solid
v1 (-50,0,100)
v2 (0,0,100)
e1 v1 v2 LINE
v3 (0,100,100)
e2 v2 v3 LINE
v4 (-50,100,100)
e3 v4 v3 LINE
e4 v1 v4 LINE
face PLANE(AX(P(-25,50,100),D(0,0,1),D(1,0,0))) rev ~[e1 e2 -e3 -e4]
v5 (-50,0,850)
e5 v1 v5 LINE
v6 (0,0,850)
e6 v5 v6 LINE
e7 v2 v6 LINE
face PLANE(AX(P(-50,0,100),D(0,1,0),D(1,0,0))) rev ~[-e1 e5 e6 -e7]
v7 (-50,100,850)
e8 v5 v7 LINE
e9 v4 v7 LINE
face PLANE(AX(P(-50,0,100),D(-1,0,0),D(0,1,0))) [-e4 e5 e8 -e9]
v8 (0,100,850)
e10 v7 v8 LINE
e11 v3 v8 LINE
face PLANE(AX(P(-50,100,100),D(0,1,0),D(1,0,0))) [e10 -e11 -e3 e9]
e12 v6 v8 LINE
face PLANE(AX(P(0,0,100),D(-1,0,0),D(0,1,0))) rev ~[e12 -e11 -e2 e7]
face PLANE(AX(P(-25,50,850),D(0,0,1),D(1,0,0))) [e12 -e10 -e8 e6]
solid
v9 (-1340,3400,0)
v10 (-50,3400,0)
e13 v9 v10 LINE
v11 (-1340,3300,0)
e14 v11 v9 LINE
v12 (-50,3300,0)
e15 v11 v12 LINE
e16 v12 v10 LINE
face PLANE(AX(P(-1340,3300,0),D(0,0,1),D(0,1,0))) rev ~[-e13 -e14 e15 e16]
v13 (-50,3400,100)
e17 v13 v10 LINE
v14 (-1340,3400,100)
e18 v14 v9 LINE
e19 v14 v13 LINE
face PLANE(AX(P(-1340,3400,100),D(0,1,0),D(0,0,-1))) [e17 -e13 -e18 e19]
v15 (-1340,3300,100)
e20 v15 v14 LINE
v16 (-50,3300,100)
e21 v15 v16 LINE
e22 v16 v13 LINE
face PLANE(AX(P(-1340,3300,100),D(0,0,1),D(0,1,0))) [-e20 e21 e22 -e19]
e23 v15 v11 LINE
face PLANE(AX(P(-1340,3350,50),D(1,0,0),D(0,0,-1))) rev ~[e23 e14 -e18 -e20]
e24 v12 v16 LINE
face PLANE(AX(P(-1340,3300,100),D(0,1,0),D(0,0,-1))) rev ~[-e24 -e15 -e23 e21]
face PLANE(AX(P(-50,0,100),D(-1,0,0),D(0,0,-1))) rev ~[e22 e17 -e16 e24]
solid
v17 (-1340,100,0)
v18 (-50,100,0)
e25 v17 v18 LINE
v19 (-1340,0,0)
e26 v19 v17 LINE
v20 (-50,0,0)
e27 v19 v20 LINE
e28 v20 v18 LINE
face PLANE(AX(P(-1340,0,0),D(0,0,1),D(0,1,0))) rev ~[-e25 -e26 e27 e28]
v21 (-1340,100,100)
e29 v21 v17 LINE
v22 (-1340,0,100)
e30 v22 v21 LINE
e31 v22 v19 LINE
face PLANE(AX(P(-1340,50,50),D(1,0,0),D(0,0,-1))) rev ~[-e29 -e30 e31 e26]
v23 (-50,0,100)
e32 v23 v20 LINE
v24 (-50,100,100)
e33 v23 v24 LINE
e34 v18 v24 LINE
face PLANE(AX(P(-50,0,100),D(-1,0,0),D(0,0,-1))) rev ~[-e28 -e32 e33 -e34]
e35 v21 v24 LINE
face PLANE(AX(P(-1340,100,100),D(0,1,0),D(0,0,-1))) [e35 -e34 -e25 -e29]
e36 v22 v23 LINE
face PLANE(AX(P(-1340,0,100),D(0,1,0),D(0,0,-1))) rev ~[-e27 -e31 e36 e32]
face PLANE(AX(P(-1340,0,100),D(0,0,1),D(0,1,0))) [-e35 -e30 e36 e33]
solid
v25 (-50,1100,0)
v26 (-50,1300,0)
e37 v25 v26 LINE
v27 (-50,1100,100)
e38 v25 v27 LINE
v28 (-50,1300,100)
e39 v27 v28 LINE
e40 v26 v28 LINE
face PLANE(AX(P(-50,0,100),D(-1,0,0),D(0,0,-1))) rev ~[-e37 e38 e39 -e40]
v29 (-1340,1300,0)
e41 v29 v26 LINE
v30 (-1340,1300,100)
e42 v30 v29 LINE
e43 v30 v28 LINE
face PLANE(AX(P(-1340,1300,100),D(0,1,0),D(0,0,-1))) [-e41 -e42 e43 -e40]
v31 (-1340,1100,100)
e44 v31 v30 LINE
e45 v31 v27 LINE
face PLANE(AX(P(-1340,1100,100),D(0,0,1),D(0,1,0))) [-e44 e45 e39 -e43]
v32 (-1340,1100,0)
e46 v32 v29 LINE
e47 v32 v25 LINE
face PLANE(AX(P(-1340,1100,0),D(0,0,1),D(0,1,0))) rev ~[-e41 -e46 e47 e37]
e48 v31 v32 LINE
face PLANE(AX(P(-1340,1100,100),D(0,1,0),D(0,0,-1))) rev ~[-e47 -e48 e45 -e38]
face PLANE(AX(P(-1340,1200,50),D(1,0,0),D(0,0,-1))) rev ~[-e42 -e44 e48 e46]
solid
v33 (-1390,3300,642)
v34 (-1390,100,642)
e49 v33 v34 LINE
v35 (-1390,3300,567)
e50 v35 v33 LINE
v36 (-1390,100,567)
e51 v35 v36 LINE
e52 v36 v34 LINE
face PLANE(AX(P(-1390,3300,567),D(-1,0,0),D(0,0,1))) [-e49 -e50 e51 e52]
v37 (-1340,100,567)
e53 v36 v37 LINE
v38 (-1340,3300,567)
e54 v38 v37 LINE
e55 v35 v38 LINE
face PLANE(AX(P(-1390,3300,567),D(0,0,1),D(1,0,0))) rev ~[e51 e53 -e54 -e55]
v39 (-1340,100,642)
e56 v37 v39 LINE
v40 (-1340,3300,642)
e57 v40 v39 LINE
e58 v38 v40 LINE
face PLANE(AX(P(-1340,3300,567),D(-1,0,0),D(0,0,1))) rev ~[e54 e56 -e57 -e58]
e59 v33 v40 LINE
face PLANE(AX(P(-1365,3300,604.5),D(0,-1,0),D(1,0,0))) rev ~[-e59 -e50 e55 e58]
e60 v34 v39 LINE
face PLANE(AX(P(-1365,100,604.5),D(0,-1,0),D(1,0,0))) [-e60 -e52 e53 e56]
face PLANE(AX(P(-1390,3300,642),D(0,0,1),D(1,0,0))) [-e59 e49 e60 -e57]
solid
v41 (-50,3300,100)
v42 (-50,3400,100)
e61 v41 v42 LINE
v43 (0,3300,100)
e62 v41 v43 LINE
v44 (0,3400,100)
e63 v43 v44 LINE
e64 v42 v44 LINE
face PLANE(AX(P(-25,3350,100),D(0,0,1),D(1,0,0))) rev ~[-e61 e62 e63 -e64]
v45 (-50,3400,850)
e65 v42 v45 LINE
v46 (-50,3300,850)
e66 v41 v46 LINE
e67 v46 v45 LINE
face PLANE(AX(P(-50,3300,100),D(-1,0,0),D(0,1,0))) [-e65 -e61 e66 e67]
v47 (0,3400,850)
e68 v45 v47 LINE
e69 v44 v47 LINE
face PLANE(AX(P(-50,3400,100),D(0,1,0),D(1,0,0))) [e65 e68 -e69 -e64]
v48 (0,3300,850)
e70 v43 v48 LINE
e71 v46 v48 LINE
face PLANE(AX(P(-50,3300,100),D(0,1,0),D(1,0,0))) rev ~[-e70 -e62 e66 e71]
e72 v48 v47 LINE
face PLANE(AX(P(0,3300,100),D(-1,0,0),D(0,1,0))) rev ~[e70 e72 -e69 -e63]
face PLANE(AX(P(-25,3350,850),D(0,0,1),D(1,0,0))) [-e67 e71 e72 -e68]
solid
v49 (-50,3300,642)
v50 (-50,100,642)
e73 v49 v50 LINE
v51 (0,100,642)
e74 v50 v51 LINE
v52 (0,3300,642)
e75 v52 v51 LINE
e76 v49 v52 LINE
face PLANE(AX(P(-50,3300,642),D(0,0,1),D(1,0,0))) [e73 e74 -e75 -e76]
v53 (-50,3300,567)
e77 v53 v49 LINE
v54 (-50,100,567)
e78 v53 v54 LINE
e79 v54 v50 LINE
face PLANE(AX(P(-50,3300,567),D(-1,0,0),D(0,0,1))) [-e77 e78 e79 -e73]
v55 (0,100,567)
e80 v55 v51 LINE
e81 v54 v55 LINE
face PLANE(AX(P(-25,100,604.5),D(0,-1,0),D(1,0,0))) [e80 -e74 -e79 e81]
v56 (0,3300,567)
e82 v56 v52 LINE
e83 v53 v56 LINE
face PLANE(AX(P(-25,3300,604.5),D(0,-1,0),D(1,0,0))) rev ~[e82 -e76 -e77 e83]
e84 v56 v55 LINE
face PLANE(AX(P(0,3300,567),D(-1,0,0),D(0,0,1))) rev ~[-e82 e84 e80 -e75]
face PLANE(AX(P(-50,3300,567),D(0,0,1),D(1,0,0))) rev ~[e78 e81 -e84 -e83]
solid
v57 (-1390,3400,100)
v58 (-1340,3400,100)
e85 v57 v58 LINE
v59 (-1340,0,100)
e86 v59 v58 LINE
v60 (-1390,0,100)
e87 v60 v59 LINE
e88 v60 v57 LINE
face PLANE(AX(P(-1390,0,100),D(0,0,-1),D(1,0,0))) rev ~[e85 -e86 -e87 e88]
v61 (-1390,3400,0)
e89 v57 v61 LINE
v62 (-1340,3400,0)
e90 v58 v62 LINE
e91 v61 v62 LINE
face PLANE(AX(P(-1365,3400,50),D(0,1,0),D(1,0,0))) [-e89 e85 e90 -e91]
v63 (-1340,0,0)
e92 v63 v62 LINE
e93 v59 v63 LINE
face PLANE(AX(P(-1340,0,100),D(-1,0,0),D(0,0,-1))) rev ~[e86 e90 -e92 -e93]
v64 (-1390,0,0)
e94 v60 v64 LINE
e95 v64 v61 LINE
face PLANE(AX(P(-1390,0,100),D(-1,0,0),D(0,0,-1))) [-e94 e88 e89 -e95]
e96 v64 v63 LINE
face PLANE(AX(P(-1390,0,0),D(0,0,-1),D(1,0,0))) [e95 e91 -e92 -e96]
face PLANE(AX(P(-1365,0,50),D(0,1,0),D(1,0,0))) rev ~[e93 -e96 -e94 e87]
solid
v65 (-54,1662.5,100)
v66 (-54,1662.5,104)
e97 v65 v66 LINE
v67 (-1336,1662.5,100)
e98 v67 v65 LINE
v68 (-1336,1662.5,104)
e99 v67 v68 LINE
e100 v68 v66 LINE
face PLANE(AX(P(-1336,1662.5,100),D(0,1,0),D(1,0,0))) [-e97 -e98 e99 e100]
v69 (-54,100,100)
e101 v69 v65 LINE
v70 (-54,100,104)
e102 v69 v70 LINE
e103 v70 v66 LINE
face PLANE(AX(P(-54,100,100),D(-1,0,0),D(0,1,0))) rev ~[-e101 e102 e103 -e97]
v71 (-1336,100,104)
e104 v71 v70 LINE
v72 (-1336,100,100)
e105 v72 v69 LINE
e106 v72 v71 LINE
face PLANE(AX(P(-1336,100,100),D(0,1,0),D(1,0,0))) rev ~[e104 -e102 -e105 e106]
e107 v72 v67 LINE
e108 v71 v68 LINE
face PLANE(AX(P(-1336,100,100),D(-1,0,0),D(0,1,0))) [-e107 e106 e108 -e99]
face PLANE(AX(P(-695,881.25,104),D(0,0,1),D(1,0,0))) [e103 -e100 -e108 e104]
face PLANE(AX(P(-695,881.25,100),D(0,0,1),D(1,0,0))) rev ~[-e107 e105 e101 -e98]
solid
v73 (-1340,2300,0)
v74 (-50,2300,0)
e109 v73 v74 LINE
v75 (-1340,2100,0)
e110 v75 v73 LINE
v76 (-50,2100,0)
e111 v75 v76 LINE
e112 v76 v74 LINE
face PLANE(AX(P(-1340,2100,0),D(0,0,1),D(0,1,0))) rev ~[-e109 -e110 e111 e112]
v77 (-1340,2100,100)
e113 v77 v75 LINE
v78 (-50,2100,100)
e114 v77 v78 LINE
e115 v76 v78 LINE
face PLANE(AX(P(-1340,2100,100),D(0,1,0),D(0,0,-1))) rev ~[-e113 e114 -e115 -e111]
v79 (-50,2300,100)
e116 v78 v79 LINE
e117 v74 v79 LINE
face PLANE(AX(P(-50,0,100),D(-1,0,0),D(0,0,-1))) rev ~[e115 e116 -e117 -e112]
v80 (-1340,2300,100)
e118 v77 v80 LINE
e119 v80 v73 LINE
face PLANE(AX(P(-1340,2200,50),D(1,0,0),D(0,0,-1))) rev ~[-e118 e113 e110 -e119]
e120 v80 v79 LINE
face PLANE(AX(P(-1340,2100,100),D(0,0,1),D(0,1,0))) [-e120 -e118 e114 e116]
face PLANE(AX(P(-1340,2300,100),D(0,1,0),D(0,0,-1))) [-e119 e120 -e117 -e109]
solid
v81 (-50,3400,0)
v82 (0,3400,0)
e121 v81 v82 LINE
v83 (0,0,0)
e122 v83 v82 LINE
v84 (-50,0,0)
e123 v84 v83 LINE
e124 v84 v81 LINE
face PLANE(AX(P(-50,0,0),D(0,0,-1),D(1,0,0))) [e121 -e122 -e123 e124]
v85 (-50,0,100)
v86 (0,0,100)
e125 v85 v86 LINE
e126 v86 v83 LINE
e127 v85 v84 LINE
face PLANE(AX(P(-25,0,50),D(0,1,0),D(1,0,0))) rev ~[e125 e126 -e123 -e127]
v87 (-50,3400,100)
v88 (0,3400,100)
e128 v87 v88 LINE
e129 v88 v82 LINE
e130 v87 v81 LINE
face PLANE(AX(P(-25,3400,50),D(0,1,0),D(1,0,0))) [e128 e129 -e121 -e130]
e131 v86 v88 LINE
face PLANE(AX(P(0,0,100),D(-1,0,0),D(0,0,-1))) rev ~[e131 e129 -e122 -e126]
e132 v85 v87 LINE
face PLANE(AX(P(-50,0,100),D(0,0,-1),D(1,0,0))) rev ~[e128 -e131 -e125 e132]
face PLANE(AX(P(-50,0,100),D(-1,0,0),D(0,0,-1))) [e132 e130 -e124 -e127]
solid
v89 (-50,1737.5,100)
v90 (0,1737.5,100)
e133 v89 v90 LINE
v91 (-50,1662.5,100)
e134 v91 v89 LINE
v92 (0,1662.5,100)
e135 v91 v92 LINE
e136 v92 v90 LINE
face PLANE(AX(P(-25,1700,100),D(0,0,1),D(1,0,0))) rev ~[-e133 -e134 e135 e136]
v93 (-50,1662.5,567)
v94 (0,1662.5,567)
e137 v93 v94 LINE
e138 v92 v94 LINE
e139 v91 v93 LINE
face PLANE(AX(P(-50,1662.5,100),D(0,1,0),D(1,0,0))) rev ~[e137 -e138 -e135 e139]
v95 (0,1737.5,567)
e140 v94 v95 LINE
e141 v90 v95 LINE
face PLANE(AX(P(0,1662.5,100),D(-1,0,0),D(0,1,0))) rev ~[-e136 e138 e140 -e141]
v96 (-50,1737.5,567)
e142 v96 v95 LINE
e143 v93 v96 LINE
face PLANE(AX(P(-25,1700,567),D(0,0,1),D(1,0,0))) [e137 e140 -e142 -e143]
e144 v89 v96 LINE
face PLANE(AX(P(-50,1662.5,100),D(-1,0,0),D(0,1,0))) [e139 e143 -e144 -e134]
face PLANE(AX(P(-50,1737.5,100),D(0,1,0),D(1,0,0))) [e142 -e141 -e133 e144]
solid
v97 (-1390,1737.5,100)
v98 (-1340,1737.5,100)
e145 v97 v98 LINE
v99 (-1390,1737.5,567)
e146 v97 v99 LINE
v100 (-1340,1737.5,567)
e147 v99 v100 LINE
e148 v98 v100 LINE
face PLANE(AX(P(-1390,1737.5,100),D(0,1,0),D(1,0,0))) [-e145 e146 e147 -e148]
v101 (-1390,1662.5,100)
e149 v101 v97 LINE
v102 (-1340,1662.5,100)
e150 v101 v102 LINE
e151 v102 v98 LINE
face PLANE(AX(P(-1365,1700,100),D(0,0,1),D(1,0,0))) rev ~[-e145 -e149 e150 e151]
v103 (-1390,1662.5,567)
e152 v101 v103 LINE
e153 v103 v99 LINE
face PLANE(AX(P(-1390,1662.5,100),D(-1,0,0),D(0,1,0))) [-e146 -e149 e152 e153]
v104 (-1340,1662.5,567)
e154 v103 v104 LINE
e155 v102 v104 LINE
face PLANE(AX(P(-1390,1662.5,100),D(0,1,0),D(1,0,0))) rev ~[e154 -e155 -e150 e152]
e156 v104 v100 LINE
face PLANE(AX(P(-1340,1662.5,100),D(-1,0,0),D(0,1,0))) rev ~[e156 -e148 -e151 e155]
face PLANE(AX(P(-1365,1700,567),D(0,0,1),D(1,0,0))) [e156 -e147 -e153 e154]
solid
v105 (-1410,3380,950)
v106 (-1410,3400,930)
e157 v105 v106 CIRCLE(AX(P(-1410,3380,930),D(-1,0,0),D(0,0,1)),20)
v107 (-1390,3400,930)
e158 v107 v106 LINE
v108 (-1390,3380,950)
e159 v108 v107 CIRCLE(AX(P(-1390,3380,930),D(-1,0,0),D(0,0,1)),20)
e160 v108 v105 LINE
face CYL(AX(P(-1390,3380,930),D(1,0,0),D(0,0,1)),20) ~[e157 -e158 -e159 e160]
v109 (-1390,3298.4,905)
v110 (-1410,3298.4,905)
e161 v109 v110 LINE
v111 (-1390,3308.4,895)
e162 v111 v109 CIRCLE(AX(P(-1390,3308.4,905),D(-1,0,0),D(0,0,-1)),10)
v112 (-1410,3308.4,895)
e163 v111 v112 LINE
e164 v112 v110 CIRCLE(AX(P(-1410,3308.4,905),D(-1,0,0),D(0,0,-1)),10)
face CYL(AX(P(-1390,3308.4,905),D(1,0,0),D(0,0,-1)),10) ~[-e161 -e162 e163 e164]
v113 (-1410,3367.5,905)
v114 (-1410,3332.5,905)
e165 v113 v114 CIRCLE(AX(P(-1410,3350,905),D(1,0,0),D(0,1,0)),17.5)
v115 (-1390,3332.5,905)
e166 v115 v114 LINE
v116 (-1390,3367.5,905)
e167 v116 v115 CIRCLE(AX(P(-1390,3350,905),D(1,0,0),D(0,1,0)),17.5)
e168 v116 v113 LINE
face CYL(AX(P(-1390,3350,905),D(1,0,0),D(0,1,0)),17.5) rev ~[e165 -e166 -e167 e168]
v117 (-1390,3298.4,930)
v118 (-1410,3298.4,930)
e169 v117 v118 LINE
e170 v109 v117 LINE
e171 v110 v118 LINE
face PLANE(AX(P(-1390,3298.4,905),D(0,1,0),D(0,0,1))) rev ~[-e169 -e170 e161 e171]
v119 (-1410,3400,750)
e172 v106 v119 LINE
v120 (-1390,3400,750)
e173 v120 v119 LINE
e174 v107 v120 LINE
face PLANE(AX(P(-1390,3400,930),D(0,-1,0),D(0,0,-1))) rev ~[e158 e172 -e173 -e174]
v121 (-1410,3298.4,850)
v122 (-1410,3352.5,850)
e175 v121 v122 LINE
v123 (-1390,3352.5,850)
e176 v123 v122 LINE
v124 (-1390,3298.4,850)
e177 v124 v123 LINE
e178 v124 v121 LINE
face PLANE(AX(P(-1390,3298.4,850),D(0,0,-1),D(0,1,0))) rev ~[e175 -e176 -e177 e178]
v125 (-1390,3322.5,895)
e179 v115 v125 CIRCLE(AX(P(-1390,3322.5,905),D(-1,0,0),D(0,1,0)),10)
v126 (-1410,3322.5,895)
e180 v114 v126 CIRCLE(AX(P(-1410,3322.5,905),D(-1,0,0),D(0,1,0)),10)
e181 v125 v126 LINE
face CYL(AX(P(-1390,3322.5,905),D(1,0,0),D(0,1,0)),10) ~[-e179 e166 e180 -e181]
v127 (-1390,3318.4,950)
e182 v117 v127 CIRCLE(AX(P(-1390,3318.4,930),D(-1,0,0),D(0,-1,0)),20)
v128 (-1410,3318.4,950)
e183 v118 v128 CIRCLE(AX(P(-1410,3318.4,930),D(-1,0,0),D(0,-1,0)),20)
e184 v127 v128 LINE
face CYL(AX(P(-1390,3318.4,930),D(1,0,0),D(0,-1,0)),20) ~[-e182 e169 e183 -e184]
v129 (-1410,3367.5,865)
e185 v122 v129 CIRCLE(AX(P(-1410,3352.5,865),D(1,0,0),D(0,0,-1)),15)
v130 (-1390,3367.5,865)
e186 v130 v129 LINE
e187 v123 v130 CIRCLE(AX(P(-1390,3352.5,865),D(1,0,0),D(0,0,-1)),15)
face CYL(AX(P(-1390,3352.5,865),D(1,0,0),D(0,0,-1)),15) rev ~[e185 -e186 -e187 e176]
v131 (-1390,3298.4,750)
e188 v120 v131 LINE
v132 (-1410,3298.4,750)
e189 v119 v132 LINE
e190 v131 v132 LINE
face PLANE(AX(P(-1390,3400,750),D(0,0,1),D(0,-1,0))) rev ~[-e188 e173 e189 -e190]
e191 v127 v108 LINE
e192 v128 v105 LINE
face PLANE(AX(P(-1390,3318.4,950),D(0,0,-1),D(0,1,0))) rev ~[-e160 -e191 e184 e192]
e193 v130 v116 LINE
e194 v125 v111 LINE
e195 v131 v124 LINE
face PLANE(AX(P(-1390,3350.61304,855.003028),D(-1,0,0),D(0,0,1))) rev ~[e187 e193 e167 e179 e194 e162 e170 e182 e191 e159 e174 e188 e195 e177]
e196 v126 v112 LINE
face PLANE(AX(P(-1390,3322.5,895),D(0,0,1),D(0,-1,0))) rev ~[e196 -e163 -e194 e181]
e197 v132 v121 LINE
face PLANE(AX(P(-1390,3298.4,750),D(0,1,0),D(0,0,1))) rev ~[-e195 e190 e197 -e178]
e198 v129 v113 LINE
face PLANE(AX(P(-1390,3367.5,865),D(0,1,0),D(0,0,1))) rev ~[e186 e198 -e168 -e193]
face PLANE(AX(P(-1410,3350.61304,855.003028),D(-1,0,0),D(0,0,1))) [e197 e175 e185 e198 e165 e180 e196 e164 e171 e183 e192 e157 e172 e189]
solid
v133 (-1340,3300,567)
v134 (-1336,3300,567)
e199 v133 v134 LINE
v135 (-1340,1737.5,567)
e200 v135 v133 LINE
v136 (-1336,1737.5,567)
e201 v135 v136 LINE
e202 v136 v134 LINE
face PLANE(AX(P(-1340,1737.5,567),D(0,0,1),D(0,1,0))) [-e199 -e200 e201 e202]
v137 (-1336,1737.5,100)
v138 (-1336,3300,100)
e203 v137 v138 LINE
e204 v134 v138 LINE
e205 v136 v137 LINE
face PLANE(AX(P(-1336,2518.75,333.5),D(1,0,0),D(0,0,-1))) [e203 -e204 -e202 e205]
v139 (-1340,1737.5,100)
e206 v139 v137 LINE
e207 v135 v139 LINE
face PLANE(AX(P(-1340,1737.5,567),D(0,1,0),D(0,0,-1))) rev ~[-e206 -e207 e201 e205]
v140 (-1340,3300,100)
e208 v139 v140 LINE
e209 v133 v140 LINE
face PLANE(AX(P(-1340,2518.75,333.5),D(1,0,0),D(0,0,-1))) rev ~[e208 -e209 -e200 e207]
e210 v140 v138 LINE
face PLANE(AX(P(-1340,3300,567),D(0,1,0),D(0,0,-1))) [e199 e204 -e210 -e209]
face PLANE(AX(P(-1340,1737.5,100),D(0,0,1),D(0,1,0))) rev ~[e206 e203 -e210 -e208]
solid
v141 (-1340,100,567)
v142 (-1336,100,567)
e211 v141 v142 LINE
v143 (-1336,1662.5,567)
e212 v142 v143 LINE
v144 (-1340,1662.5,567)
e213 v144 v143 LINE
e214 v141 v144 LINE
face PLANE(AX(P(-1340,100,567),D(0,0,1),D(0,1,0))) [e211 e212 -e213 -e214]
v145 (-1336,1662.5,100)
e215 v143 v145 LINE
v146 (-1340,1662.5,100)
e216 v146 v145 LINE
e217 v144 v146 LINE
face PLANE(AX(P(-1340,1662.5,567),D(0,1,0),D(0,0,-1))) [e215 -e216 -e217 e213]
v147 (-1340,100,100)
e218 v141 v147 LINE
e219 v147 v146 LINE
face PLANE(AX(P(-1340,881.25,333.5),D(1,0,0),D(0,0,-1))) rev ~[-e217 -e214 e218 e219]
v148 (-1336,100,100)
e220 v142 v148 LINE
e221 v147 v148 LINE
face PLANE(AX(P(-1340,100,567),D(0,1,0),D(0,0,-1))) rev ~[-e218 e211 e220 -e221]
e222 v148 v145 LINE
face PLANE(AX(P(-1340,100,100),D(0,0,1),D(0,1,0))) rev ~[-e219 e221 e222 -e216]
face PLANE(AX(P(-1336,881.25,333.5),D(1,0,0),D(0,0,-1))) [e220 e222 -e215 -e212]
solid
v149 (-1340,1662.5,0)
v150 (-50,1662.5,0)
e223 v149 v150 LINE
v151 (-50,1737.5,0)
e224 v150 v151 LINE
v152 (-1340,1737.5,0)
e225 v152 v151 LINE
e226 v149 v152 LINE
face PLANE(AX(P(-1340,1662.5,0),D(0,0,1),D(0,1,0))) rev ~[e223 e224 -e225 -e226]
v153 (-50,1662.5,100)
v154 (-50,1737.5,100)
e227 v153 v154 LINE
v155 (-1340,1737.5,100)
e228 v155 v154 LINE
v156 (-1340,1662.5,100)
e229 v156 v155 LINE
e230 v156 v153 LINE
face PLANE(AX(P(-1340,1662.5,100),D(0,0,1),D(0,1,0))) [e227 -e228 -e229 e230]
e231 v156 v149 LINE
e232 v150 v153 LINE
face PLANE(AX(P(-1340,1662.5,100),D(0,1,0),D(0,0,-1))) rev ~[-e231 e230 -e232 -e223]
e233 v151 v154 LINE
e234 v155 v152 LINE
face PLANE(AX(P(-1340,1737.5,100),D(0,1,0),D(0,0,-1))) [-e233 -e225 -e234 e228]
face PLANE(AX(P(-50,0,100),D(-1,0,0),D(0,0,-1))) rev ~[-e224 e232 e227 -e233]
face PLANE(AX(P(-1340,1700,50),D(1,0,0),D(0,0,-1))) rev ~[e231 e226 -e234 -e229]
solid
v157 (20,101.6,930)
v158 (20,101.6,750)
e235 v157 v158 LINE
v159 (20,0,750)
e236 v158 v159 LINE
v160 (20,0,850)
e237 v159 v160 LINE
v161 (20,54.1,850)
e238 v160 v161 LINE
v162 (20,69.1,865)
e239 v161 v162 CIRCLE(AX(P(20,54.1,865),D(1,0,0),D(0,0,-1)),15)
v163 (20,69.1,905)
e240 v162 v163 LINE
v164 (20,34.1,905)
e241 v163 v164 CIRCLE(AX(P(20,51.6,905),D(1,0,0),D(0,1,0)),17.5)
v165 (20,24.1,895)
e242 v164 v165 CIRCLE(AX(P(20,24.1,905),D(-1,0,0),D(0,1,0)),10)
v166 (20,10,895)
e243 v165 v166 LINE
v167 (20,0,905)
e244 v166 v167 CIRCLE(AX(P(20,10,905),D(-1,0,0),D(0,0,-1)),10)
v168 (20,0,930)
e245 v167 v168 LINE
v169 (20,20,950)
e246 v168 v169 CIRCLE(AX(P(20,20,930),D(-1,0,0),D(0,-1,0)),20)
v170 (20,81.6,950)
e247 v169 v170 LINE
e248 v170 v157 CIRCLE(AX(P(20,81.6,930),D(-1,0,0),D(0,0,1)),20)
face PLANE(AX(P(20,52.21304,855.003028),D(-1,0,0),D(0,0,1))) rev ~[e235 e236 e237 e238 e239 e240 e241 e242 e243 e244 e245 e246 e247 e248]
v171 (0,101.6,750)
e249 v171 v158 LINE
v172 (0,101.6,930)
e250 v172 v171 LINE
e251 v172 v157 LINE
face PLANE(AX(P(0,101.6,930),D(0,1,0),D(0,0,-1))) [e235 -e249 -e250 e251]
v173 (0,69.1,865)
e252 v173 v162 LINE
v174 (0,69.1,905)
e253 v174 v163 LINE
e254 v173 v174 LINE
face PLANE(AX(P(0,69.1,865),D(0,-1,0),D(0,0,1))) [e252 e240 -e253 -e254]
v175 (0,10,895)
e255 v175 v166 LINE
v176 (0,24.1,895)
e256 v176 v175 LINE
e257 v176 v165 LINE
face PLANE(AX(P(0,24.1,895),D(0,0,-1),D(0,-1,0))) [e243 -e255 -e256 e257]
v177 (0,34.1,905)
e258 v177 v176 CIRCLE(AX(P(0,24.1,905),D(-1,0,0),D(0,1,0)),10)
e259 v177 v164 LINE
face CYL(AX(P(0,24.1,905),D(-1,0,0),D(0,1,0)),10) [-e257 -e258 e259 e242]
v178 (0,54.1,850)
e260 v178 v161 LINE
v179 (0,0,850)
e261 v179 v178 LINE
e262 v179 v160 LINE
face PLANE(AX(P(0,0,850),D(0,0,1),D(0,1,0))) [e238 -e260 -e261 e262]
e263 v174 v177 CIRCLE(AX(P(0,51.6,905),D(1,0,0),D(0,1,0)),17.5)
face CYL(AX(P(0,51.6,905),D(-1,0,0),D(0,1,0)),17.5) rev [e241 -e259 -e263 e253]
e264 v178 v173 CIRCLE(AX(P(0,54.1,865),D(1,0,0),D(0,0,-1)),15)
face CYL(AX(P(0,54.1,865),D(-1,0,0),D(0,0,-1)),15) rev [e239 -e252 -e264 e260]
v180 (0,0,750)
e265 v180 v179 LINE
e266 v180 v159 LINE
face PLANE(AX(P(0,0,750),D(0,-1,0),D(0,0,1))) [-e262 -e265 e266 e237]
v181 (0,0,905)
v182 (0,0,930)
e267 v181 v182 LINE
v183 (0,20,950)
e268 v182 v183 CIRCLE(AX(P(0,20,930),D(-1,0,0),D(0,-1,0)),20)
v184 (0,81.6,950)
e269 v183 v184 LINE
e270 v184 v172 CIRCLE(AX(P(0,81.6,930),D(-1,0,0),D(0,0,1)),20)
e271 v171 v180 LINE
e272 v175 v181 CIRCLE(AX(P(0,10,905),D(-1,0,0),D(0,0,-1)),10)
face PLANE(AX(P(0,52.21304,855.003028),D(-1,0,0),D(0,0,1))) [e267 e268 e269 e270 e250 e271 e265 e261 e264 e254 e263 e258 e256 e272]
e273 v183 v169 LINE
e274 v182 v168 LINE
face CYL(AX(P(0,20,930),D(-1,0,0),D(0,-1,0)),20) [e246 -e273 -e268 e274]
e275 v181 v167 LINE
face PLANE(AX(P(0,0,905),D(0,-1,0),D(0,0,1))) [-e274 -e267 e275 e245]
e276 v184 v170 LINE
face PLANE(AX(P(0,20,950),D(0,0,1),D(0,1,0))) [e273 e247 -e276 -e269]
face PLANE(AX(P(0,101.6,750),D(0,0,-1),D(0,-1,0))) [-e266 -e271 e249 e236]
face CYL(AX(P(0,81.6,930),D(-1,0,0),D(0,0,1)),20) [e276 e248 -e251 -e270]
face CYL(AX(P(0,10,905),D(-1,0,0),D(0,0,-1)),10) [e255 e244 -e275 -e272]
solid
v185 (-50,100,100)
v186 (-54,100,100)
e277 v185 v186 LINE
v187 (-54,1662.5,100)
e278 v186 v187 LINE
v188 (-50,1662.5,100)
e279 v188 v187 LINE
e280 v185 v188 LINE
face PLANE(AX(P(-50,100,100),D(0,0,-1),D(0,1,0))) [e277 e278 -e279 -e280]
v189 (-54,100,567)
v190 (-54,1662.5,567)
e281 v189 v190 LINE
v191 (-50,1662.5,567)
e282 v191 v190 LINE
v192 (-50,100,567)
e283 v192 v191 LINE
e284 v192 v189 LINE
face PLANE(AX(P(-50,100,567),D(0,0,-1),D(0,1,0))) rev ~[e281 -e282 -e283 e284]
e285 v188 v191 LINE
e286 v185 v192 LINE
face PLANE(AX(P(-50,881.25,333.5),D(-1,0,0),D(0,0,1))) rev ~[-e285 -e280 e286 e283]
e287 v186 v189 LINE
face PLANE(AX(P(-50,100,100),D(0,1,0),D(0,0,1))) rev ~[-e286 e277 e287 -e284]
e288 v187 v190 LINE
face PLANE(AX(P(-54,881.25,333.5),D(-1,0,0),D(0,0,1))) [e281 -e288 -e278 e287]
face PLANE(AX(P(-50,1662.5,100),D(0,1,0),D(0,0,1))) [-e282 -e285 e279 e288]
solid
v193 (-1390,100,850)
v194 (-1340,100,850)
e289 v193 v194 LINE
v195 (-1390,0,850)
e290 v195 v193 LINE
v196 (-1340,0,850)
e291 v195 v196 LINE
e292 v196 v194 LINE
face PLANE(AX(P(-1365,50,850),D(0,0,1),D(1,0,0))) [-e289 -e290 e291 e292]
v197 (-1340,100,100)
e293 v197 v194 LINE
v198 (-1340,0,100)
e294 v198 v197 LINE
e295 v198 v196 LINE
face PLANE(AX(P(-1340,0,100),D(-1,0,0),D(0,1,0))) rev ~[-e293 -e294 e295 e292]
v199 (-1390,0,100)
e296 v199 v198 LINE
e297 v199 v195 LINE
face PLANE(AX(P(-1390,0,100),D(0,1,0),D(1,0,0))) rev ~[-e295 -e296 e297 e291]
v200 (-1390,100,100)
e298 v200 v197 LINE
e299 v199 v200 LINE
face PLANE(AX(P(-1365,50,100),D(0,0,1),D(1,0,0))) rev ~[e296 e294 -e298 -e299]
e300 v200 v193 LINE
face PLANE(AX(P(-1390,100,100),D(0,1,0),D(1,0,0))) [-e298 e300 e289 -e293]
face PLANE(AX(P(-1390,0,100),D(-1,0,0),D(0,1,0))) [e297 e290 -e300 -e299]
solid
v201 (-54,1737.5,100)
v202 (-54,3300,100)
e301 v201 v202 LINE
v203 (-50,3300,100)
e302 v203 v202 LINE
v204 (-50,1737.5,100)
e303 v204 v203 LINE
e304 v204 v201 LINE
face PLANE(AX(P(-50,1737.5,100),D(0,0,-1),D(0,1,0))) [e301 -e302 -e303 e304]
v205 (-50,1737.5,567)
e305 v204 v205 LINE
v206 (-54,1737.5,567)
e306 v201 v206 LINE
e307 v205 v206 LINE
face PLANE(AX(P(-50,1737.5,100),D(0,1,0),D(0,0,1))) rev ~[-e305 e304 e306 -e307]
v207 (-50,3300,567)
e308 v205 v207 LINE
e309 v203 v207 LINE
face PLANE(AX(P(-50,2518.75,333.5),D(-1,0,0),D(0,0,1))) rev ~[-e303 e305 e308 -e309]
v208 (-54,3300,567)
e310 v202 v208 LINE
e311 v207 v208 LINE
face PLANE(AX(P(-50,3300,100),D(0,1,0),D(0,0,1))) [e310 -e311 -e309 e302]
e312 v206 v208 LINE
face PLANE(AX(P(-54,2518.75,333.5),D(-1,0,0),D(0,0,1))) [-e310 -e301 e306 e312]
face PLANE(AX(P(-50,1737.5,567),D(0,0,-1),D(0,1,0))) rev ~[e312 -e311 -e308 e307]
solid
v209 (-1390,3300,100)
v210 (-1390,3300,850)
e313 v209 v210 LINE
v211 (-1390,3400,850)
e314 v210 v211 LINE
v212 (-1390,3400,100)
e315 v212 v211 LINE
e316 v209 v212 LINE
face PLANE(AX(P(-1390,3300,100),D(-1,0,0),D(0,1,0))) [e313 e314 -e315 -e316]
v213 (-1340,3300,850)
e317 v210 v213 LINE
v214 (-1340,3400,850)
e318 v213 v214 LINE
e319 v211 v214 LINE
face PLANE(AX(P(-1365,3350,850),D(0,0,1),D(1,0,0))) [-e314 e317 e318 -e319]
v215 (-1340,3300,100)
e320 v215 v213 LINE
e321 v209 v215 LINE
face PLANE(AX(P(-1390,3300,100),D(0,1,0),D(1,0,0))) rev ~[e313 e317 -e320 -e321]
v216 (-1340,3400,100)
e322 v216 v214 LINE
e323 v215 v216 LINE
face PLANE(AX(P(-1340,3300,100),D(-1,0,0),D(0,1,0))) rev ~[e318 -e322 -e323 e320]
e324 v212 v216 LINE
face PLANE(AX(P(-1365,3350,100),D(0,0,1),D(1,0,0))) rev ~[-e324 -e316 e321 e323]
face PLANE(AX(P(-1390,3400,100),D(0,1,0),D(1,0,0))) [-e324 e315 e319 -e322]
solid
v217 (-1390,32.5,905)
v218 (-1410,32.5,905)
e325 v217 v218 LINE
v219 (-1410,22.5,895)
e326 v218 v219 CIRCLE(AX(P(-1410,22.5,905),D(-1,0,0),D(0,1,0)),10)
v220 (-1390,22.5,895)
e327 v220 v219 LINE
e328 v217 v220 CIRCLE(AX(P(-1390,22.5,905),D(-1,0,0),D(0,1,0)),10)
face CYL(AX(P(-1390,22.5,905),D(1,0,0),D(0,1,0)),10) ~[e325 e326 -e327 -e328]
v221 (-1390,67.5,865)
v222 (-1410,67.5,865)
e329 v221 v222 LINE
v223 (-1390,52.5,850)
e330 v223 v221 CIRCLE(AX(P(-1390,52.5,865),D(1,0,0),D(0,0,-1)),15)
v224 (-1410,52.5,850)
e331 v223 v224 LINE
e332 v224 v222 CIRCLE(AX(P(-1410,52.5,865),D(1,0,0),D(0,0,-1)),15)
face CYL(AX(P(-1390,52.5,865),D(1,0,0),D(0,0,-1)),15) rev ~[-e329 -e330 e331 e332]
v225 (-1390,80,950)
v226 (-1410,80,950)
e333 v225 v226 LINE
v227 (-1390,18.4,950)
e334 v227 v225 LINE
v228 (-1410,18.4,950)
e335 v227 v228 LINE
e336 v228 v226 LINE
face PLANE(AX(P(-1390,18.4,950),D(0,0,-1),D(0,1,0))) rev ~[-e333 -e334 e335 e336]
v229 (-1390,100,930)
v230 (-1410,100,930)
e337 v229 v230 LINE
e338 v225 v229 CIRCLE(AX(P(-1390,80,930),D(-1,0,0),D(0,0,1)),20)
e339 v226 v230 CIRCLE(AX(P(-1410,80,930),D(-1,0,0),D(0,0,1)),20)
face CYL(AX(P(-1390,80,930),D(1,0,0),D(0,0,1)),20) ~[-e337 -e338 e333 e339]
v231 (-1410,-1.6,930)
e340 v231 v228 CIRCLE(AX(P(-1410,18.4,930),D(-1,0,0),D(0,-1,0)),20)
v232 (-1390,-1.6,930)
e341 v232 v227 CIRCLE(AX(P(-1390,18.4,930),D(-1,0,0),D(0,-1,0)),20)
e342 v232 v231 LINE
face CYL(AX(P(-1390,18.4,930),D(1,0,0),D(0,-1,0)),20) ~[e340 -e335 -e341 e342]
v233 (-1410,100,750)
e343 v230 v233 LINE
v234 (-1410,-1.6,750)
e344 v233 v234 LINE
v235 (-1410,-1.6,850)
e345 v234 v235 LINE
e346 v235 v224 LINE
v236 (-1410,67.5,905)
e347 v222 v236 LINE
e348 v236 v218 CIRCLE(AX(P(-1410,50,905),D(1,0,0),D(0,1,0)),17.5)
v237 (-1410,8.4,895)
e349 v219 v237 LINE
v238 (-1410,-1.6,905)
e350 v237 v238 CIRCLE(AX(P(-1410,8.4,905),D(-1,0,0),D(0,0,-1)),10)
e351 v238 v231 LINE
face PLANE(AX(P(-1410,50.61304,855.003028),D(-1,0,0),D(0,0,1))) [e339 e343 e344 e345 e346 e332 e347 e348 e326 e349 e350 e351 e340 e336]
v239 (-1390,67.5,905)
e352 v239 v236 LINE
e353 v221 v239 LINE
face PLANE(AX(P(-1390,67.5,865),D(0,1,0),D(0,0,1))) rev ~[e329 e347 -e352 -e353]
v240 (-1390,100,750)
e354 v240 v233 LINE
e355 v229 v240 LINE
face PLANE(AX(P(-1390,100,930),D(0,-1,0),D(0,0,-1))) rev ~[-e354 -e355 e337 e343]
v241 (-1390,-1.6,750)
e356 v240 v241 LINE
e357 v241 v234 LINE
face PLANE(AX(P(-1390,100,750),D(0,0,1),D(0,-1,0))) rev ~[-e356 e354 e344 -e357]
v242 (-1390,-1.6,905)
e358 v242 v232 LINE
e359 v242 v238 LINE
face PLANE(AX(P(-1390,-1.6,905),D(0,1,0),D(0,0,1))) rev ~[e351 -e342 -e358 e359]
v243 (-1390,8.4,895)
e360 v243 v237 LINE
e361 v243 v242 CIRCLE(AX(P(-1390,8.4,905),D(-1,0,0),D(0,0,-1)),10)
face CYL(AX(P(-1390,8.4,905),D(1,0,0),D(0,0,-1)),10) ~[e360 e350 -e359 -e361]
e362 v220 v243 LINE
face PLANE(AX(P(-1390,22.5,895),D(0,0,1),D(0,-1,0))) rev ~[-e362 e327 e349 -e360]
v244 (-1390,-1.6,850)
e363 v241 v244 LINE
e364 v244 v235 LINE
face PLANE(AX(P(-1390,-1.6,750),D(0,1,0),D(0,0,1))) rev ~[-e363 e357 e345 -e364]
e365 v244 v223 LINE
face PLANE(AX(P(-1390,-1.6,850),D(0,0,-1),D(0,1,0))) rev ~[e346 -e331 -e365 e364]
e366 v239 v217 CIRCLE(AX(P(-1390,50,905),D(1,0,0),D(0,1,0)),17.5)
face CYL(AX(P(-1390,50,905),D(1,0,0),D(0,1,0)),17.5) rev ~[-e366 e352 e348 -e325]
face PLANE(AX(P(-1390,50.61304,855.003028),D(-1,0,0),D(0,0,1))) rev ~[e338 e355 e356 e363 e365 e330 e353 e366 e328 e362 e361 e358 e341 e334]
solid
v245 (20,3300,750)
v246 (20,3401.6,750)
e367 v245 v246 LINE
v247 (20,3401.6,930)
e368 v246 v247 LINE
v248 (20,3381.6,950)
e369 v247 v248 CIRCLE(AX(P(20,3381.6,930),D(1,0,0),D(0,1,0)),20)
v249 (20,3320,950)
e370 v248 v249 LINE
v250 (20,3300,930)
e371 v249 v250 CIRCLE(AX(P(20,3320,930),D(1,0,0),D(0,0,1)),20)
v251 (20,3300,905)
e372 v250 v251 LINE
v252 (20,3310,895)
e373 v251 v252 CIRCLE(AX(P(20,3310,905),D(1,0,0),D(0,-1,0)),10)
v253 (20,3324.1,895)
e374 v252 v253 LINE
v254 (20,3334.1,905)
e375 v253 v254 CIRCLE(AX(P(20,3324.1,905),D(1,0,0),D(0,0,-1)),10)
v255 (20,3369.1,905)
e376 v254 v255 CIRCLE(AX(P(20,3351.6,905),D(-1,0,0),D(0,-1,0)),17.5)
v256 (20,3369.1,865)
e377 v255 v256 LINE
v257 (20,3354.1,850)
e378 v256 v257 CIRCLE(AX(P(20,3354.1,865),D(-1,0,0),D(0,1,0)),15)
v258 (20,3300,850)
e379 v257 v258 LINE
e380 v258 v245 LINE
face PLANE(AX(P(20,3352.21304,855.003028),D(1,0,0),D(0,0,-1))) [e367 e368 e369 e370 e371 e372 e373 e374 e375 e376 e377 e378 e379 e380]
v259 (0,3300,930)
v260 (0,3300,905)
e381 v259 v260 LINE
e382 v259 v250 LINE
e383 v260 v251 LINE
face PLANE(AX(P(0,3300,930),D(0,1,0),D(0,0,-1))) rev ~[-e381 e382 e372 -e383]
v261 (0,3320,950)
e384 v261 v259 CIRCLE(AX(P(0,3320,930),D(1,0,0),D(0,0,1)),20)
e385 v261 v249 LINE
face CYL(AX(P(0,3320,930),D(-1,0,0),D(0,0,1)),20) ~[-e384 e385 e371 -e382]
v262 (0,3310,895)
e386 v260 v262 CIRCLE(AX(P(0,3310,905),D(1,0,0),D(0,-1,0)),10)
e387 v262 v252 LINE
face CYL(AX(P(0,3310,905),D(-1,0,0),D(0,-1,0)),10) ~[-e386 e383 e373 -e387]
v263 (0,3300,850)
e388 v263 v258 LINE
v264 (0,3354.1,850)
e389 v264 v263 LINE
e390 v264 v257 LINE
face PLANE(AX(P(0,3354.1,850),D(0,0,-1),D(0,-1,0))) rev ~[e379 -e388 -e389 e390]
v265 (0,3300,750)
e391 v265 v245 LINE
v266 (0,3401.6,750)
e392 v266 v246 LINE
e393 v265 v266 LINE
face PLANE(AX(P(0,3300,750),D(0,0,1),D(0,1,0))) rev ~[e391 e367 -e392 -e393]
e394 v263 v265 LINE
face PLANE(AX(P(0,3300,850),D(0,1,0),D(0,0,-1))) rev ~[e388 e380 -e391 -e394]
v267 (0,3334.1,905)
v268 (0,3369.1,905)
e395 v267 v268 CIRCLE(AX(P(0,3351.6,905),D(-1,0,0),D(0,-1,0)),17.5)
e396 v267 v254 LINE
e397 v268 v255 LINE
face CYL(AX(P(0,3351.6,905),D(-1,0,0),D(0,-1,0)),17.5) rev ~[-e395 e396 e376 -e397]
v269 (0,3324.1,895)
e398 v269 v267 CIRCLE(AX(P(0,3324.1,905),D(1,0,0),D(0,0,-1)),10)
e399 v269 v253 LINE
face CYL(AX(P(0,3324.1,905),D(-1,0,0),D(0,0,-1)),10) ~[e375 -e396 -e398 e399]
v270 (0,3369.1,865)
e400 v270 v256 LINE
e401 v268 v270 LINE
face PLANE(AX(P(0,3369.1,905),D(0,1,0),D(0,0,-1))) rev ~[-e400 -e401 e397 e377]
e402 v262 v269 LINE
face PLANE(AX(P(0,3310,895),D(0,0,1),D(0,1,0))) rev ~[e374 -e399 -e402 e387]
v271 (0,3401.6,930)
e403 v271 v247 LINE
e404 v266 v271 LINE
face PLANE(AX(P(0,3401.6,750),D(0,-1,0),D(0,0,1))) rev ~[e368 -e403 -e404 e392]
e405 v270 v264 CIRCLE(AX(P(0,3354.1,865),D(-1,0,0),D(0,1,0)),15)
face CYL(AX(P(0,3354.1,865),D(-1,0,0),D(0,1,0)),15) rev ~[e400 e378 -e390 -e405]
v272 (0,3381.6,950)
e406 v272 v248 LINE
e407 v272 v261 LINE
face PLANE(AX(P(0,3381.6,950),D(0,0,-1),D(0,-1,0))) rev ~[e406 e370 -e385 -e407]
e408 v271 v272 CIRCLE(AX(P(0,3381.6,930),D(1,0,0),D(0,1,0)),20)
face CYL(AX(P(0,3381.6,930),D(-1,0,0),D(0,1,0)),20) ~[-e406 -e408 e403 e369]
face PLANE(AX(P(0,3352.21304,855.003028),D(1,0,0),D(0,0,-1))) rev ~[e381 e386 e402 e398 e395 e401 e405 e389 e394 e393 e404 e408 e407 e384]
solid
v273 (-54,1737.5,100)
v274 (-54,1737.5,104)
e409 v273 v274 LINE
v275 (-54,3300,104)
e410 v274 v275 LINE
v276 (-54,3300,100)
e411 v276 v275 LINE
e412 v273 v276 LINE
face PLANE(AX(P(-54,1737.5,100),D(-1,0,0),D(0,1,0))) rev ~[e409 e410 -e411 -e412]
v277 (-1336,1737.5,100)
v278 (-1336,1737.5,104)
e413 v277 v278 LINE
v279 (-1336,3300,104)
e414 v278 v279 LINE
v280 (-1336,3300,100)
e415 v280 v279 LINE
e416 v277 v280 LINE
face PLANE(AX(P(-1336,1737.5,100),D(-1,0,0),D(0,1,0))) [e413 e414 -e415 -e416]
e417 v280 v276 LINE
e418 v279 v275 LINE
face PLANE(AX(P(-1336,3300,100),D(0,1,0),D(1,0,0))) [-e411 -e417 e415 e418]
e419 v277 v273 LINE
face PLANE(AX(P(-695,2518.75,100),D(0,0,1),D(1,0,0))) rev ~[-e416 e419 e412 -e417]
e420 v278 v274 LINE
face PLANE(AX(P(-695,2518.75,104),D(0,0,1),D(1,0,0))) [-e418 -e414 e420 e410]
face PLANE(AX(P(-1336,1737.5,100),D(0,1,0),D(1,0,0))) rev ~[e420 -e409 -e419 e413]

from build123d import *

# Parameters (mm, degrees)
SKETCH12_W             = 50
SKETCH12_H             = 100
BOSS_EXTRUDE1_DEPTH    = 3400
BOSS_EXTRUDE1_2_DEPTH  = 3400
BOSS_EXTRUDE2_REACH    = 3657.899
SKETCH13_W             = 100
SKETCH13_H             = 100
SKETCH13_H_2           = 200
SKETCH13_H_3           = 75
SKETCH14_W             = 50
SKETCH14_H             = 100
BOSS_EXTRUDE3_DEPTH    = 750
BOSS_EXTRUDE3_2_DEPTH  = 750
BOSS_EXTRUDE3_3_DEPTH  = 750
BOSS_EXTRUDE3_4_DEPTH  = 750
SKETCH15_W             = 50
SKETCH15_H             = 75
BOSS_EXTRUDE4_DEPTH    = 467
BOSS_EXTRUDE4_2_DEPTH  = 467
SKETCH16_W             = 50
SKETCH16_H             = 75
BOSS_EXTRUDE5_DEPTH    = 3200
BOSS_EXTRUDE5_2_DEPTH  = 3200
BOSS_EXTRUDE6_DEPTH    = 20
BOSS_EXTRUDE6_2_DEPTH  = 20
BOSS_EXTRUDE7_DEPTH    = 20
BOSS_EXTRUDE7_2_DEPTH  = 20
SKETCH19_W             = 467
SKETCH19_H             = 1562.5
BOSS_EXTRUDE8_DEPTH    = 4
BOSS_EXTRUDE8_2_DEPTH  = 4
SKETCH21_W             = 467
SKETCH21_H             = 1562.5
BOSS_EXTRUDE10_DEPTH   = 4
BOSS_EXTRUDE10_2_DEPTH = 4
SKETCH22_W             = 1282
SKETCH22_H             = 1562.5
BOSS_EXTRUDE11_DEPTH   = 4
BOSS_EXTRUDE11_2_DEPTH = 4


with BuildPart() as part:
    # Sketch12 → Boss-Extrude1 (new body)
    with BuildSketch(Plane(origin=(0, 0, 0), x_dir=(1, 0, 0), z_dir=(0, 1, 0))):
        with Locations((-25, -50)):
            Rectangle(SKETCH12_W, SKETCH12_H)
    extrude(amount=BOSS_EXTRUDE1_DEPTH)


with BuildPart() as body_2:
    # Sketch12 → Boss-Extrude1 2 (new body)
    with BuildSketch(Plane(origin=(0, 0, 0), x_dir=(1, 0, 0), z_dir=(0, 1, 0))):
        with Locations((-1365, -50)):
            Rectangle(SKETCH12_W, SKETCH12_H)
    extrude(amount=BOSS_EXTRUDE1_2_DEPTH)


with BuildPart() as body_3:

    # Sketch13 → Boss-Extrude2 (new, up to next)
    with BuildSketch(Plane(origin=(-1340, 0, 0), x_dir=(0, 0, -1), z_dir=(1, 0, 0)), mode=Mode.PRIVATE) as boss_extrude2_sk1:
        with Locations((-50, 50)):
            Rectangle(SKETCH13_W, SKETCH13_H)
    boss_extrude2_tool1 = extrude(boss_extrude2_sk1.sketch, amount=BOSS_EXTRUDE2_REACH, mode=Mode.PRIVATE) - part.part
    # Sketch13 → Boss-Extrude2 (new, up to next)
    with BuildSketch(Plane(origin=(-1340, 0, 0), x_dir=(0, 0, -1), z_dir=(1, 0, 0)), mode=Mode.PRIVATE) as boss_extrude2_sk2:
        with Locations((-50, 3350)):
            Rectangle(SKETCH13_W, SKETCH13_H)
    boss_extrude2_tool2 = extrude(boss_extrude2_sk2.sketch, amount=BOSS_EXTRUDE2_REACH, mode=Mode.PRIVATE) - part.part
    # Sketch13 → Boss-Extrude2 (new, up to next)
    with BuildSketch(Plane(origin=(-1340, 0, 0), x_dir=(0, 0, -1), z_dir=(1, 0, 0)), mode=Mode.PRIVATE) as boss_extrude2_sk3:
        with Locations((-50, 1200)):
            Rectangle(SKETCH13_W, SKETCH13_H_2)
    boss_extrude2_tool3 = extrude(boss_extrude2_sk3.sketch, amount=BOSS_EXTRUDE2_REACH, mode=Mode.PRIVATE) - part.part
    # Sketch13 → Boss-Extrude2 (new, up to next)
    with BuildSketch(Plane(origin=(-1340, 0, 0), x_dir=(0, 0, -1), z_dir=(1, 0, 0)), mode=Mode.PRIVATE) as boss_extrude2_sk4:
        with Locations((-50, 2200)):
            Rectangle(SKETCH13_W, SKETCH13_H_2)
    boss_extrude2_tool4 = extrude(boss_extrude2_sk4.sketch, amount=BOSS_EXTRUDE2_REACH, mode=Mode.PRIVATE) - part.part
    # Sketch13 → Boss-Extrude2 (new, up to next)
    with BuildSketch(Plane(origin=(-1340, 0, 0), x_dir=(0, 0, -1), z_dir=(1, 0, 0)), mode=Mode.PRIVATE) as boss_extrude2_sk5:
        with Locations((-50, 1700)):
            Rectangle(SKETCH13_W, SKETCH13_H_3)
    boss_extrude2_tool5 = extrude(boss_extrude2_sk5.sketch, amount=BOSS_EXTRUDE2_REACH, mode=Mode.PRIVATE) - part.part
    add(boss_extrude2_tool1.solids().sort_by_distance((-1340, 50, 50))[0])
    add(boss_extrude2_tool2.solids().sort_by_distance((-1340, 3350, 50))[0])
    add(boss_extrude2_tool3.solids().sort_by_distance((-1340, 1200, 50))[0])
    add(boss_extrude2_tool4.solids().sort_by_distance((-1340, 2200, 50))[0])
    add(boss_extrude2_tool5.solids().sort_by_distance((-1340, 1700, 50))[0])


with BuildPart() as body_4:
    # Sketch14 → Boss-Extrude3 (new body)
    with BuildSketch(Plane.XY.offset(100)):
        with Locations((-1365, 50)):
            Rectangle(SKETCH14_W, SKETCH14_H)
    extrude(amount=BOSS_EXTRUDE3_DEPTH)


with BuildPart() as body_5:
    # Sketch14 → Boss-Extrude3 2 (new body)
    with BuildSketch(Plane.XY.offset(100)):
        with Locations((-25, 50)):
            Rectangle(SKETCH14_W, SKETCH14_H)
    extrude(amount=BOSS_EXTRUDE3_2_DEPTH)


with BuildPart() as body_6:
    # Sketch14 → Boss-Extrude3 3 (new body)
    with BuildSketch(Plane.XY.offset(100)):
        with Locations((-1365, 3350)):
            Rectangle(SKETCH14_W, SKETCH14_H)
    extrude(amount=BOSS_EXTRUDE3_3_DEPTH)


with BuildPart() as body_7:
    # Sketch14 → Boss-Extrude3 4 (new body)
    with BuildSketch(Plane.XY.offset(100)):
        with Locations((-25, 3350)):
            Rectangle(SKETCH14_W, SKETCH14_H)
    extrude(amount=BOSS_EXTRUDE3_4_DEPTH)


with BuildPart() as body_8:
    # Sketch15 → Boss-Extrude4 (new body)
    with BuildSketch(Plane.XY.offset(100)):
        with Locations((-1365, 1700)):
            Rectangle(SKETCH15_W, SKETCH15_H)
    extrude(amount=BOSS_EXTRUDE4_DEPTH)


with BuildPart() as body_9:
    # Sketch15 → Boss-Extrude4 2 (new body)
    with BuildSketch(Plane.XY.offset(100)):
        with Locations((-25, 1700)):
            Rectangle(SKETCH15_W, SKETCH15_H)
    extrude(amount=BOSS_EXTRUDE4_2_DEPTH)


with BuildPart() as body_10:
    # Sketch16 → Boss-Extrude5 (new body)
    with BuildSketch(Plane.XZ.offset(-3300)):
        with Locations((-25, 604.5)):
            Rectangle(SKETCH16_W, SKETCH16_H)
    extrude(amount=BOSS_EXTRUDE5_DEPTH)


with BuildPart() as body_11:
    # Sketch16 → Boss-Extrude5 2 (new body)
    with BuildSketch(Plane.XZ.offset(-3300)):
        with Locations((-1365, 604.5)):
            Rectangle(SKETCH16_W, SKETCH16_H)
    extrude(amount=BOSS_EXTRUDE5_2_DEPTH)


with BuildPart() as body_12:
    # Sketch17 → Boss-Extrude6 (new body)
    with BuildSketch(Plane(origin=(0, 0, 0), x_dir=(0, 0, -1), z_dir=(1, 0, 0))):
        with BuildLine():
            Line((-850, 0), (-850, 54.1))
            ThreePointArc((-850, 54.1), (-854.393398282, 64.706601718), (-865, 69.1))
            Line((-865, 69.1), (-905, 69.1))
            ThreePointArc((-905, 69.1), (-922.5, 51.6), (-905, 34.1))
            ThreePointArc((-905, 34.1), (-897.928932188, 31.171067812), (-895, 24.1))
            Line((-895, 24.1), (-895, 10))
            ThreePointArc((-895, 10), (-897.928932188, 2.928932188), (-905, 0))
            Line((-905, 0), (-930, 0))
            ThreePointArc((-930, 0), (-944.142135624, 5.857864376), (-950, 20))
            Line((-950, 20), (-950, 81.6))
            ThreePointArc((-950, 81.6), (-944.142135624, 95.742135624), (-930, 101.6))
            Line((-930, 101.6), (-750, 101.6))
            Line((-750, 101.6), (-750, 0))
            Line((-750, 0), (-850, 0))
        make_face()
    extrude(amount=BOSS_EXTRUDE6_DEPTH)


with BuildPart() as body_13:
    # Sketch17 → Boss-Extrude6 2 (new body)
    with BuildSketch(Plane(origin=(0, 0, 0), x_dir=(0, 0, -1), z_dir=(1, 0, 0))):
        with BuildLine():
            Line((-905, 3369.1), (-865, 3369.1))
            ThreePointArc((-865, 3369.1), (-854.393398282, 3364.706601718), (-850, 3354.1))
            Line((-850, 3354.1), (-850, 3300))
            Line((-850, 3300), (-750, 3300))
            Line((-750, 3300), (-750, 3401.6))
            Line((-750, 3401.6), (-930, 3401.6))
            ThreePointArc((-930, 3401.6), (-944.142135624, 3395.742135624), (-950, 3381.6))
            Line((-950, 3381.6), (-950, 3320))
            ThreePointArc((-950, 3320), (-944.142135624, 3305.857864376), (-930, 3300))
            Line((-930, 3300), (-905, 3300))
            ThreePointArc((-905, 3300), (-897.928932188, 3302.928932188), (-895, 3310))
            Line((-895, 3310), (-895, 3324.1))
            ThreePointArc((-895, 3324.1), (-897.928932188, 3331.171067812), (-905, 3334.1))
            ThreePointArc((-905, 3334.1), (-922.5, 3351.6), (-905, 3369.1))
        make_face()
    extrude(amount=BOSS_EXTRUDE6_2_DEPTH)


with BuildPart() as body_14:
    # Sketch18 → Boss-Extrude7 (new body)
    with BuildSketch(Plane.ZY.offset(1390)):
        with BuildLine():
            Line((950, 3318.4), (950, 3380))
            ThreePointArc((950, 3380), (944.142135624, 3394.142135624), (930, 3400))
            Line((930, 3400), (750, 3400))
            Line((750, 3400), (750, 3298.4))
            Line((750, 3298.4), (850, 3298.4))
            Line((850, 3298.4), (850, 3352.5))
            ThreePointArc((850, 3352.5), (854.393398282, 3363.106601718), (865, 3367.5))
            Line((865, 3367.5), (905, 3367.5))
            ThreePointArc((905, 3367.5), (922.5, 3350), (905, 3332.5))
            ThreePointArc((905, 3332.5), (897.928932188, 3329.571067812), (895, 3322.5))
            Line((895, 3322.5), (895, 3308.4))
            ThreePointArc((895, 3308.4), (897.928932188, 3301.328932188), (905, 3298.4))
            Line((905, 3298.4), (930, 3298.4))
            ThreePointArc((930, 3298.4), (944.142135624, 3304.257864376), (950, 3318.4))
        make_face()
    extrude(amount=BOSS_EXTRUDE7_DEPTH)


with BuildPart() as body_15:
    # Sketch18 → Boss-Extrude7 2 (new body)
    with BuildSketch(Plane.ZY.offset(1390)):
        with BuildLine():
            Line((950, 18.4), (950, 80))
            ThreePointArc((950, 80), (944.142135624, 94.142135624), (930, 100))
            Line((930, 100), (750, 100))
            Line((750, 100), (750, -1.6))
            Line((750, -1.6), (850, -1.6))
            Line((850, -1.6), (850, 52.5))
            ThreePointArc((850, 52.5), (854.393398282, 63.106601718), (865, 67.5))
            Line((865, 67.5), (905, 67.5))
            ThreePointArc((905, 67.5), (922.5, 50), (905, 32.5))
            ThreePointArc((905, 32.5), (897.928932188, 29.571067812), (895, 22.5))
            Line((895, 22.5), (895, 8.4))
            ThreePointArc((895, 8.4), (897.928932188, 1.328932188), (905, -1.6))
            Line((905, -1.6), (930, -1.6))
            ThreePointArc((930, -1.6), (944.142135624, 4.257864376), (950, 18.4))
        make_face()
    extrude(amount=BOSS_EXTRUDE7_2_DEPTH)


with BuildPart() as body_16:
    # Sketch19 → Boss-Extrude8 (new body)
    with BuildSketch(Plane.ZY.offset(50)):
        with Locations((333.5, 2518.75)):
            Rectangle(SKETCH19_W, SKETCH19_H)
    extrude(amount=BOSS_EXTRUDE8_DEPTH)


with BuildPart() as body_17:
    # Sketch19 → Boss-Extrude8 2 (new body)
    with BuildSketch(Plane.ZY.offset(50)):
        with Locations((333.5, 881.25)):
            Rectangle(SKETCH19_W, SKETCH19_H)
    extrude(amount=BOSS_EXTRUDE8_2_DEPTH)


with BuildPart() as body_18:
    # Sketch21 → Boss-Extrude10 (new body)
    with BuildSketch(Plane(origin=(-1340, 0, 0), x_dir=(0, 0, -1), z_dir=(1, 0, 0))):
        with Locations((-333.5, 881.25)):
            Rectangle(SKETCH21_W, SKETCH21_H)
    extrude(amount=BOSS_EXTRUDE10_DEPTH)


with BuildPart() as body_19:
    # Sketch21 → Boss-Extrude10 2 (new body)
    with BuildSketch(Plane(origin=(-1340, 0, 0), x_dir=(0, 0, -1), z_dir=(1, 0, 0))):
        with Locations((-333.5, 2518.75)):
            Rectangle(SKETCH21_W, SKETCH21_H)
    extrude(amount=BOSS_EXTRUDE10_2_DEPTH)


with BuildPart() as body_20:
    # Sketch22 → Boss-Extrude11 (new body)
    with BuildSketch(Plane.XY.offset(100)):
        with Locations((-695, 881.25)):
            Rectangle(SKETCH22_W, SKETCH22_H)
    extrude(amount=BOSS_EXTRUDE11_DEPTH)


with BuildPart() as body_21:
    # Sketch22 → Boss-Extrude11 2 (new body)
    with BuildSketch(Plane.XY.offset(100)):
        with Locations((-695, 2518.75)):
            Rectangle(SKETCH22_W, SKETCH22_H)
    extrude(amount=BOSS_EXTRUDE11_2_DEPTH)


solid = Compound([part.part, body_2.part, body_3.part, body_4.part, body_5.part, body_6.part, body_7.part, body_8.part, body_9.part, body_10.part, body_11.part, body_12.part, body_13.part, body_14.part, body_15.part, body_16.part, body_17.part, body_18.part, body_19.part, body_20.part, body_21.part])
